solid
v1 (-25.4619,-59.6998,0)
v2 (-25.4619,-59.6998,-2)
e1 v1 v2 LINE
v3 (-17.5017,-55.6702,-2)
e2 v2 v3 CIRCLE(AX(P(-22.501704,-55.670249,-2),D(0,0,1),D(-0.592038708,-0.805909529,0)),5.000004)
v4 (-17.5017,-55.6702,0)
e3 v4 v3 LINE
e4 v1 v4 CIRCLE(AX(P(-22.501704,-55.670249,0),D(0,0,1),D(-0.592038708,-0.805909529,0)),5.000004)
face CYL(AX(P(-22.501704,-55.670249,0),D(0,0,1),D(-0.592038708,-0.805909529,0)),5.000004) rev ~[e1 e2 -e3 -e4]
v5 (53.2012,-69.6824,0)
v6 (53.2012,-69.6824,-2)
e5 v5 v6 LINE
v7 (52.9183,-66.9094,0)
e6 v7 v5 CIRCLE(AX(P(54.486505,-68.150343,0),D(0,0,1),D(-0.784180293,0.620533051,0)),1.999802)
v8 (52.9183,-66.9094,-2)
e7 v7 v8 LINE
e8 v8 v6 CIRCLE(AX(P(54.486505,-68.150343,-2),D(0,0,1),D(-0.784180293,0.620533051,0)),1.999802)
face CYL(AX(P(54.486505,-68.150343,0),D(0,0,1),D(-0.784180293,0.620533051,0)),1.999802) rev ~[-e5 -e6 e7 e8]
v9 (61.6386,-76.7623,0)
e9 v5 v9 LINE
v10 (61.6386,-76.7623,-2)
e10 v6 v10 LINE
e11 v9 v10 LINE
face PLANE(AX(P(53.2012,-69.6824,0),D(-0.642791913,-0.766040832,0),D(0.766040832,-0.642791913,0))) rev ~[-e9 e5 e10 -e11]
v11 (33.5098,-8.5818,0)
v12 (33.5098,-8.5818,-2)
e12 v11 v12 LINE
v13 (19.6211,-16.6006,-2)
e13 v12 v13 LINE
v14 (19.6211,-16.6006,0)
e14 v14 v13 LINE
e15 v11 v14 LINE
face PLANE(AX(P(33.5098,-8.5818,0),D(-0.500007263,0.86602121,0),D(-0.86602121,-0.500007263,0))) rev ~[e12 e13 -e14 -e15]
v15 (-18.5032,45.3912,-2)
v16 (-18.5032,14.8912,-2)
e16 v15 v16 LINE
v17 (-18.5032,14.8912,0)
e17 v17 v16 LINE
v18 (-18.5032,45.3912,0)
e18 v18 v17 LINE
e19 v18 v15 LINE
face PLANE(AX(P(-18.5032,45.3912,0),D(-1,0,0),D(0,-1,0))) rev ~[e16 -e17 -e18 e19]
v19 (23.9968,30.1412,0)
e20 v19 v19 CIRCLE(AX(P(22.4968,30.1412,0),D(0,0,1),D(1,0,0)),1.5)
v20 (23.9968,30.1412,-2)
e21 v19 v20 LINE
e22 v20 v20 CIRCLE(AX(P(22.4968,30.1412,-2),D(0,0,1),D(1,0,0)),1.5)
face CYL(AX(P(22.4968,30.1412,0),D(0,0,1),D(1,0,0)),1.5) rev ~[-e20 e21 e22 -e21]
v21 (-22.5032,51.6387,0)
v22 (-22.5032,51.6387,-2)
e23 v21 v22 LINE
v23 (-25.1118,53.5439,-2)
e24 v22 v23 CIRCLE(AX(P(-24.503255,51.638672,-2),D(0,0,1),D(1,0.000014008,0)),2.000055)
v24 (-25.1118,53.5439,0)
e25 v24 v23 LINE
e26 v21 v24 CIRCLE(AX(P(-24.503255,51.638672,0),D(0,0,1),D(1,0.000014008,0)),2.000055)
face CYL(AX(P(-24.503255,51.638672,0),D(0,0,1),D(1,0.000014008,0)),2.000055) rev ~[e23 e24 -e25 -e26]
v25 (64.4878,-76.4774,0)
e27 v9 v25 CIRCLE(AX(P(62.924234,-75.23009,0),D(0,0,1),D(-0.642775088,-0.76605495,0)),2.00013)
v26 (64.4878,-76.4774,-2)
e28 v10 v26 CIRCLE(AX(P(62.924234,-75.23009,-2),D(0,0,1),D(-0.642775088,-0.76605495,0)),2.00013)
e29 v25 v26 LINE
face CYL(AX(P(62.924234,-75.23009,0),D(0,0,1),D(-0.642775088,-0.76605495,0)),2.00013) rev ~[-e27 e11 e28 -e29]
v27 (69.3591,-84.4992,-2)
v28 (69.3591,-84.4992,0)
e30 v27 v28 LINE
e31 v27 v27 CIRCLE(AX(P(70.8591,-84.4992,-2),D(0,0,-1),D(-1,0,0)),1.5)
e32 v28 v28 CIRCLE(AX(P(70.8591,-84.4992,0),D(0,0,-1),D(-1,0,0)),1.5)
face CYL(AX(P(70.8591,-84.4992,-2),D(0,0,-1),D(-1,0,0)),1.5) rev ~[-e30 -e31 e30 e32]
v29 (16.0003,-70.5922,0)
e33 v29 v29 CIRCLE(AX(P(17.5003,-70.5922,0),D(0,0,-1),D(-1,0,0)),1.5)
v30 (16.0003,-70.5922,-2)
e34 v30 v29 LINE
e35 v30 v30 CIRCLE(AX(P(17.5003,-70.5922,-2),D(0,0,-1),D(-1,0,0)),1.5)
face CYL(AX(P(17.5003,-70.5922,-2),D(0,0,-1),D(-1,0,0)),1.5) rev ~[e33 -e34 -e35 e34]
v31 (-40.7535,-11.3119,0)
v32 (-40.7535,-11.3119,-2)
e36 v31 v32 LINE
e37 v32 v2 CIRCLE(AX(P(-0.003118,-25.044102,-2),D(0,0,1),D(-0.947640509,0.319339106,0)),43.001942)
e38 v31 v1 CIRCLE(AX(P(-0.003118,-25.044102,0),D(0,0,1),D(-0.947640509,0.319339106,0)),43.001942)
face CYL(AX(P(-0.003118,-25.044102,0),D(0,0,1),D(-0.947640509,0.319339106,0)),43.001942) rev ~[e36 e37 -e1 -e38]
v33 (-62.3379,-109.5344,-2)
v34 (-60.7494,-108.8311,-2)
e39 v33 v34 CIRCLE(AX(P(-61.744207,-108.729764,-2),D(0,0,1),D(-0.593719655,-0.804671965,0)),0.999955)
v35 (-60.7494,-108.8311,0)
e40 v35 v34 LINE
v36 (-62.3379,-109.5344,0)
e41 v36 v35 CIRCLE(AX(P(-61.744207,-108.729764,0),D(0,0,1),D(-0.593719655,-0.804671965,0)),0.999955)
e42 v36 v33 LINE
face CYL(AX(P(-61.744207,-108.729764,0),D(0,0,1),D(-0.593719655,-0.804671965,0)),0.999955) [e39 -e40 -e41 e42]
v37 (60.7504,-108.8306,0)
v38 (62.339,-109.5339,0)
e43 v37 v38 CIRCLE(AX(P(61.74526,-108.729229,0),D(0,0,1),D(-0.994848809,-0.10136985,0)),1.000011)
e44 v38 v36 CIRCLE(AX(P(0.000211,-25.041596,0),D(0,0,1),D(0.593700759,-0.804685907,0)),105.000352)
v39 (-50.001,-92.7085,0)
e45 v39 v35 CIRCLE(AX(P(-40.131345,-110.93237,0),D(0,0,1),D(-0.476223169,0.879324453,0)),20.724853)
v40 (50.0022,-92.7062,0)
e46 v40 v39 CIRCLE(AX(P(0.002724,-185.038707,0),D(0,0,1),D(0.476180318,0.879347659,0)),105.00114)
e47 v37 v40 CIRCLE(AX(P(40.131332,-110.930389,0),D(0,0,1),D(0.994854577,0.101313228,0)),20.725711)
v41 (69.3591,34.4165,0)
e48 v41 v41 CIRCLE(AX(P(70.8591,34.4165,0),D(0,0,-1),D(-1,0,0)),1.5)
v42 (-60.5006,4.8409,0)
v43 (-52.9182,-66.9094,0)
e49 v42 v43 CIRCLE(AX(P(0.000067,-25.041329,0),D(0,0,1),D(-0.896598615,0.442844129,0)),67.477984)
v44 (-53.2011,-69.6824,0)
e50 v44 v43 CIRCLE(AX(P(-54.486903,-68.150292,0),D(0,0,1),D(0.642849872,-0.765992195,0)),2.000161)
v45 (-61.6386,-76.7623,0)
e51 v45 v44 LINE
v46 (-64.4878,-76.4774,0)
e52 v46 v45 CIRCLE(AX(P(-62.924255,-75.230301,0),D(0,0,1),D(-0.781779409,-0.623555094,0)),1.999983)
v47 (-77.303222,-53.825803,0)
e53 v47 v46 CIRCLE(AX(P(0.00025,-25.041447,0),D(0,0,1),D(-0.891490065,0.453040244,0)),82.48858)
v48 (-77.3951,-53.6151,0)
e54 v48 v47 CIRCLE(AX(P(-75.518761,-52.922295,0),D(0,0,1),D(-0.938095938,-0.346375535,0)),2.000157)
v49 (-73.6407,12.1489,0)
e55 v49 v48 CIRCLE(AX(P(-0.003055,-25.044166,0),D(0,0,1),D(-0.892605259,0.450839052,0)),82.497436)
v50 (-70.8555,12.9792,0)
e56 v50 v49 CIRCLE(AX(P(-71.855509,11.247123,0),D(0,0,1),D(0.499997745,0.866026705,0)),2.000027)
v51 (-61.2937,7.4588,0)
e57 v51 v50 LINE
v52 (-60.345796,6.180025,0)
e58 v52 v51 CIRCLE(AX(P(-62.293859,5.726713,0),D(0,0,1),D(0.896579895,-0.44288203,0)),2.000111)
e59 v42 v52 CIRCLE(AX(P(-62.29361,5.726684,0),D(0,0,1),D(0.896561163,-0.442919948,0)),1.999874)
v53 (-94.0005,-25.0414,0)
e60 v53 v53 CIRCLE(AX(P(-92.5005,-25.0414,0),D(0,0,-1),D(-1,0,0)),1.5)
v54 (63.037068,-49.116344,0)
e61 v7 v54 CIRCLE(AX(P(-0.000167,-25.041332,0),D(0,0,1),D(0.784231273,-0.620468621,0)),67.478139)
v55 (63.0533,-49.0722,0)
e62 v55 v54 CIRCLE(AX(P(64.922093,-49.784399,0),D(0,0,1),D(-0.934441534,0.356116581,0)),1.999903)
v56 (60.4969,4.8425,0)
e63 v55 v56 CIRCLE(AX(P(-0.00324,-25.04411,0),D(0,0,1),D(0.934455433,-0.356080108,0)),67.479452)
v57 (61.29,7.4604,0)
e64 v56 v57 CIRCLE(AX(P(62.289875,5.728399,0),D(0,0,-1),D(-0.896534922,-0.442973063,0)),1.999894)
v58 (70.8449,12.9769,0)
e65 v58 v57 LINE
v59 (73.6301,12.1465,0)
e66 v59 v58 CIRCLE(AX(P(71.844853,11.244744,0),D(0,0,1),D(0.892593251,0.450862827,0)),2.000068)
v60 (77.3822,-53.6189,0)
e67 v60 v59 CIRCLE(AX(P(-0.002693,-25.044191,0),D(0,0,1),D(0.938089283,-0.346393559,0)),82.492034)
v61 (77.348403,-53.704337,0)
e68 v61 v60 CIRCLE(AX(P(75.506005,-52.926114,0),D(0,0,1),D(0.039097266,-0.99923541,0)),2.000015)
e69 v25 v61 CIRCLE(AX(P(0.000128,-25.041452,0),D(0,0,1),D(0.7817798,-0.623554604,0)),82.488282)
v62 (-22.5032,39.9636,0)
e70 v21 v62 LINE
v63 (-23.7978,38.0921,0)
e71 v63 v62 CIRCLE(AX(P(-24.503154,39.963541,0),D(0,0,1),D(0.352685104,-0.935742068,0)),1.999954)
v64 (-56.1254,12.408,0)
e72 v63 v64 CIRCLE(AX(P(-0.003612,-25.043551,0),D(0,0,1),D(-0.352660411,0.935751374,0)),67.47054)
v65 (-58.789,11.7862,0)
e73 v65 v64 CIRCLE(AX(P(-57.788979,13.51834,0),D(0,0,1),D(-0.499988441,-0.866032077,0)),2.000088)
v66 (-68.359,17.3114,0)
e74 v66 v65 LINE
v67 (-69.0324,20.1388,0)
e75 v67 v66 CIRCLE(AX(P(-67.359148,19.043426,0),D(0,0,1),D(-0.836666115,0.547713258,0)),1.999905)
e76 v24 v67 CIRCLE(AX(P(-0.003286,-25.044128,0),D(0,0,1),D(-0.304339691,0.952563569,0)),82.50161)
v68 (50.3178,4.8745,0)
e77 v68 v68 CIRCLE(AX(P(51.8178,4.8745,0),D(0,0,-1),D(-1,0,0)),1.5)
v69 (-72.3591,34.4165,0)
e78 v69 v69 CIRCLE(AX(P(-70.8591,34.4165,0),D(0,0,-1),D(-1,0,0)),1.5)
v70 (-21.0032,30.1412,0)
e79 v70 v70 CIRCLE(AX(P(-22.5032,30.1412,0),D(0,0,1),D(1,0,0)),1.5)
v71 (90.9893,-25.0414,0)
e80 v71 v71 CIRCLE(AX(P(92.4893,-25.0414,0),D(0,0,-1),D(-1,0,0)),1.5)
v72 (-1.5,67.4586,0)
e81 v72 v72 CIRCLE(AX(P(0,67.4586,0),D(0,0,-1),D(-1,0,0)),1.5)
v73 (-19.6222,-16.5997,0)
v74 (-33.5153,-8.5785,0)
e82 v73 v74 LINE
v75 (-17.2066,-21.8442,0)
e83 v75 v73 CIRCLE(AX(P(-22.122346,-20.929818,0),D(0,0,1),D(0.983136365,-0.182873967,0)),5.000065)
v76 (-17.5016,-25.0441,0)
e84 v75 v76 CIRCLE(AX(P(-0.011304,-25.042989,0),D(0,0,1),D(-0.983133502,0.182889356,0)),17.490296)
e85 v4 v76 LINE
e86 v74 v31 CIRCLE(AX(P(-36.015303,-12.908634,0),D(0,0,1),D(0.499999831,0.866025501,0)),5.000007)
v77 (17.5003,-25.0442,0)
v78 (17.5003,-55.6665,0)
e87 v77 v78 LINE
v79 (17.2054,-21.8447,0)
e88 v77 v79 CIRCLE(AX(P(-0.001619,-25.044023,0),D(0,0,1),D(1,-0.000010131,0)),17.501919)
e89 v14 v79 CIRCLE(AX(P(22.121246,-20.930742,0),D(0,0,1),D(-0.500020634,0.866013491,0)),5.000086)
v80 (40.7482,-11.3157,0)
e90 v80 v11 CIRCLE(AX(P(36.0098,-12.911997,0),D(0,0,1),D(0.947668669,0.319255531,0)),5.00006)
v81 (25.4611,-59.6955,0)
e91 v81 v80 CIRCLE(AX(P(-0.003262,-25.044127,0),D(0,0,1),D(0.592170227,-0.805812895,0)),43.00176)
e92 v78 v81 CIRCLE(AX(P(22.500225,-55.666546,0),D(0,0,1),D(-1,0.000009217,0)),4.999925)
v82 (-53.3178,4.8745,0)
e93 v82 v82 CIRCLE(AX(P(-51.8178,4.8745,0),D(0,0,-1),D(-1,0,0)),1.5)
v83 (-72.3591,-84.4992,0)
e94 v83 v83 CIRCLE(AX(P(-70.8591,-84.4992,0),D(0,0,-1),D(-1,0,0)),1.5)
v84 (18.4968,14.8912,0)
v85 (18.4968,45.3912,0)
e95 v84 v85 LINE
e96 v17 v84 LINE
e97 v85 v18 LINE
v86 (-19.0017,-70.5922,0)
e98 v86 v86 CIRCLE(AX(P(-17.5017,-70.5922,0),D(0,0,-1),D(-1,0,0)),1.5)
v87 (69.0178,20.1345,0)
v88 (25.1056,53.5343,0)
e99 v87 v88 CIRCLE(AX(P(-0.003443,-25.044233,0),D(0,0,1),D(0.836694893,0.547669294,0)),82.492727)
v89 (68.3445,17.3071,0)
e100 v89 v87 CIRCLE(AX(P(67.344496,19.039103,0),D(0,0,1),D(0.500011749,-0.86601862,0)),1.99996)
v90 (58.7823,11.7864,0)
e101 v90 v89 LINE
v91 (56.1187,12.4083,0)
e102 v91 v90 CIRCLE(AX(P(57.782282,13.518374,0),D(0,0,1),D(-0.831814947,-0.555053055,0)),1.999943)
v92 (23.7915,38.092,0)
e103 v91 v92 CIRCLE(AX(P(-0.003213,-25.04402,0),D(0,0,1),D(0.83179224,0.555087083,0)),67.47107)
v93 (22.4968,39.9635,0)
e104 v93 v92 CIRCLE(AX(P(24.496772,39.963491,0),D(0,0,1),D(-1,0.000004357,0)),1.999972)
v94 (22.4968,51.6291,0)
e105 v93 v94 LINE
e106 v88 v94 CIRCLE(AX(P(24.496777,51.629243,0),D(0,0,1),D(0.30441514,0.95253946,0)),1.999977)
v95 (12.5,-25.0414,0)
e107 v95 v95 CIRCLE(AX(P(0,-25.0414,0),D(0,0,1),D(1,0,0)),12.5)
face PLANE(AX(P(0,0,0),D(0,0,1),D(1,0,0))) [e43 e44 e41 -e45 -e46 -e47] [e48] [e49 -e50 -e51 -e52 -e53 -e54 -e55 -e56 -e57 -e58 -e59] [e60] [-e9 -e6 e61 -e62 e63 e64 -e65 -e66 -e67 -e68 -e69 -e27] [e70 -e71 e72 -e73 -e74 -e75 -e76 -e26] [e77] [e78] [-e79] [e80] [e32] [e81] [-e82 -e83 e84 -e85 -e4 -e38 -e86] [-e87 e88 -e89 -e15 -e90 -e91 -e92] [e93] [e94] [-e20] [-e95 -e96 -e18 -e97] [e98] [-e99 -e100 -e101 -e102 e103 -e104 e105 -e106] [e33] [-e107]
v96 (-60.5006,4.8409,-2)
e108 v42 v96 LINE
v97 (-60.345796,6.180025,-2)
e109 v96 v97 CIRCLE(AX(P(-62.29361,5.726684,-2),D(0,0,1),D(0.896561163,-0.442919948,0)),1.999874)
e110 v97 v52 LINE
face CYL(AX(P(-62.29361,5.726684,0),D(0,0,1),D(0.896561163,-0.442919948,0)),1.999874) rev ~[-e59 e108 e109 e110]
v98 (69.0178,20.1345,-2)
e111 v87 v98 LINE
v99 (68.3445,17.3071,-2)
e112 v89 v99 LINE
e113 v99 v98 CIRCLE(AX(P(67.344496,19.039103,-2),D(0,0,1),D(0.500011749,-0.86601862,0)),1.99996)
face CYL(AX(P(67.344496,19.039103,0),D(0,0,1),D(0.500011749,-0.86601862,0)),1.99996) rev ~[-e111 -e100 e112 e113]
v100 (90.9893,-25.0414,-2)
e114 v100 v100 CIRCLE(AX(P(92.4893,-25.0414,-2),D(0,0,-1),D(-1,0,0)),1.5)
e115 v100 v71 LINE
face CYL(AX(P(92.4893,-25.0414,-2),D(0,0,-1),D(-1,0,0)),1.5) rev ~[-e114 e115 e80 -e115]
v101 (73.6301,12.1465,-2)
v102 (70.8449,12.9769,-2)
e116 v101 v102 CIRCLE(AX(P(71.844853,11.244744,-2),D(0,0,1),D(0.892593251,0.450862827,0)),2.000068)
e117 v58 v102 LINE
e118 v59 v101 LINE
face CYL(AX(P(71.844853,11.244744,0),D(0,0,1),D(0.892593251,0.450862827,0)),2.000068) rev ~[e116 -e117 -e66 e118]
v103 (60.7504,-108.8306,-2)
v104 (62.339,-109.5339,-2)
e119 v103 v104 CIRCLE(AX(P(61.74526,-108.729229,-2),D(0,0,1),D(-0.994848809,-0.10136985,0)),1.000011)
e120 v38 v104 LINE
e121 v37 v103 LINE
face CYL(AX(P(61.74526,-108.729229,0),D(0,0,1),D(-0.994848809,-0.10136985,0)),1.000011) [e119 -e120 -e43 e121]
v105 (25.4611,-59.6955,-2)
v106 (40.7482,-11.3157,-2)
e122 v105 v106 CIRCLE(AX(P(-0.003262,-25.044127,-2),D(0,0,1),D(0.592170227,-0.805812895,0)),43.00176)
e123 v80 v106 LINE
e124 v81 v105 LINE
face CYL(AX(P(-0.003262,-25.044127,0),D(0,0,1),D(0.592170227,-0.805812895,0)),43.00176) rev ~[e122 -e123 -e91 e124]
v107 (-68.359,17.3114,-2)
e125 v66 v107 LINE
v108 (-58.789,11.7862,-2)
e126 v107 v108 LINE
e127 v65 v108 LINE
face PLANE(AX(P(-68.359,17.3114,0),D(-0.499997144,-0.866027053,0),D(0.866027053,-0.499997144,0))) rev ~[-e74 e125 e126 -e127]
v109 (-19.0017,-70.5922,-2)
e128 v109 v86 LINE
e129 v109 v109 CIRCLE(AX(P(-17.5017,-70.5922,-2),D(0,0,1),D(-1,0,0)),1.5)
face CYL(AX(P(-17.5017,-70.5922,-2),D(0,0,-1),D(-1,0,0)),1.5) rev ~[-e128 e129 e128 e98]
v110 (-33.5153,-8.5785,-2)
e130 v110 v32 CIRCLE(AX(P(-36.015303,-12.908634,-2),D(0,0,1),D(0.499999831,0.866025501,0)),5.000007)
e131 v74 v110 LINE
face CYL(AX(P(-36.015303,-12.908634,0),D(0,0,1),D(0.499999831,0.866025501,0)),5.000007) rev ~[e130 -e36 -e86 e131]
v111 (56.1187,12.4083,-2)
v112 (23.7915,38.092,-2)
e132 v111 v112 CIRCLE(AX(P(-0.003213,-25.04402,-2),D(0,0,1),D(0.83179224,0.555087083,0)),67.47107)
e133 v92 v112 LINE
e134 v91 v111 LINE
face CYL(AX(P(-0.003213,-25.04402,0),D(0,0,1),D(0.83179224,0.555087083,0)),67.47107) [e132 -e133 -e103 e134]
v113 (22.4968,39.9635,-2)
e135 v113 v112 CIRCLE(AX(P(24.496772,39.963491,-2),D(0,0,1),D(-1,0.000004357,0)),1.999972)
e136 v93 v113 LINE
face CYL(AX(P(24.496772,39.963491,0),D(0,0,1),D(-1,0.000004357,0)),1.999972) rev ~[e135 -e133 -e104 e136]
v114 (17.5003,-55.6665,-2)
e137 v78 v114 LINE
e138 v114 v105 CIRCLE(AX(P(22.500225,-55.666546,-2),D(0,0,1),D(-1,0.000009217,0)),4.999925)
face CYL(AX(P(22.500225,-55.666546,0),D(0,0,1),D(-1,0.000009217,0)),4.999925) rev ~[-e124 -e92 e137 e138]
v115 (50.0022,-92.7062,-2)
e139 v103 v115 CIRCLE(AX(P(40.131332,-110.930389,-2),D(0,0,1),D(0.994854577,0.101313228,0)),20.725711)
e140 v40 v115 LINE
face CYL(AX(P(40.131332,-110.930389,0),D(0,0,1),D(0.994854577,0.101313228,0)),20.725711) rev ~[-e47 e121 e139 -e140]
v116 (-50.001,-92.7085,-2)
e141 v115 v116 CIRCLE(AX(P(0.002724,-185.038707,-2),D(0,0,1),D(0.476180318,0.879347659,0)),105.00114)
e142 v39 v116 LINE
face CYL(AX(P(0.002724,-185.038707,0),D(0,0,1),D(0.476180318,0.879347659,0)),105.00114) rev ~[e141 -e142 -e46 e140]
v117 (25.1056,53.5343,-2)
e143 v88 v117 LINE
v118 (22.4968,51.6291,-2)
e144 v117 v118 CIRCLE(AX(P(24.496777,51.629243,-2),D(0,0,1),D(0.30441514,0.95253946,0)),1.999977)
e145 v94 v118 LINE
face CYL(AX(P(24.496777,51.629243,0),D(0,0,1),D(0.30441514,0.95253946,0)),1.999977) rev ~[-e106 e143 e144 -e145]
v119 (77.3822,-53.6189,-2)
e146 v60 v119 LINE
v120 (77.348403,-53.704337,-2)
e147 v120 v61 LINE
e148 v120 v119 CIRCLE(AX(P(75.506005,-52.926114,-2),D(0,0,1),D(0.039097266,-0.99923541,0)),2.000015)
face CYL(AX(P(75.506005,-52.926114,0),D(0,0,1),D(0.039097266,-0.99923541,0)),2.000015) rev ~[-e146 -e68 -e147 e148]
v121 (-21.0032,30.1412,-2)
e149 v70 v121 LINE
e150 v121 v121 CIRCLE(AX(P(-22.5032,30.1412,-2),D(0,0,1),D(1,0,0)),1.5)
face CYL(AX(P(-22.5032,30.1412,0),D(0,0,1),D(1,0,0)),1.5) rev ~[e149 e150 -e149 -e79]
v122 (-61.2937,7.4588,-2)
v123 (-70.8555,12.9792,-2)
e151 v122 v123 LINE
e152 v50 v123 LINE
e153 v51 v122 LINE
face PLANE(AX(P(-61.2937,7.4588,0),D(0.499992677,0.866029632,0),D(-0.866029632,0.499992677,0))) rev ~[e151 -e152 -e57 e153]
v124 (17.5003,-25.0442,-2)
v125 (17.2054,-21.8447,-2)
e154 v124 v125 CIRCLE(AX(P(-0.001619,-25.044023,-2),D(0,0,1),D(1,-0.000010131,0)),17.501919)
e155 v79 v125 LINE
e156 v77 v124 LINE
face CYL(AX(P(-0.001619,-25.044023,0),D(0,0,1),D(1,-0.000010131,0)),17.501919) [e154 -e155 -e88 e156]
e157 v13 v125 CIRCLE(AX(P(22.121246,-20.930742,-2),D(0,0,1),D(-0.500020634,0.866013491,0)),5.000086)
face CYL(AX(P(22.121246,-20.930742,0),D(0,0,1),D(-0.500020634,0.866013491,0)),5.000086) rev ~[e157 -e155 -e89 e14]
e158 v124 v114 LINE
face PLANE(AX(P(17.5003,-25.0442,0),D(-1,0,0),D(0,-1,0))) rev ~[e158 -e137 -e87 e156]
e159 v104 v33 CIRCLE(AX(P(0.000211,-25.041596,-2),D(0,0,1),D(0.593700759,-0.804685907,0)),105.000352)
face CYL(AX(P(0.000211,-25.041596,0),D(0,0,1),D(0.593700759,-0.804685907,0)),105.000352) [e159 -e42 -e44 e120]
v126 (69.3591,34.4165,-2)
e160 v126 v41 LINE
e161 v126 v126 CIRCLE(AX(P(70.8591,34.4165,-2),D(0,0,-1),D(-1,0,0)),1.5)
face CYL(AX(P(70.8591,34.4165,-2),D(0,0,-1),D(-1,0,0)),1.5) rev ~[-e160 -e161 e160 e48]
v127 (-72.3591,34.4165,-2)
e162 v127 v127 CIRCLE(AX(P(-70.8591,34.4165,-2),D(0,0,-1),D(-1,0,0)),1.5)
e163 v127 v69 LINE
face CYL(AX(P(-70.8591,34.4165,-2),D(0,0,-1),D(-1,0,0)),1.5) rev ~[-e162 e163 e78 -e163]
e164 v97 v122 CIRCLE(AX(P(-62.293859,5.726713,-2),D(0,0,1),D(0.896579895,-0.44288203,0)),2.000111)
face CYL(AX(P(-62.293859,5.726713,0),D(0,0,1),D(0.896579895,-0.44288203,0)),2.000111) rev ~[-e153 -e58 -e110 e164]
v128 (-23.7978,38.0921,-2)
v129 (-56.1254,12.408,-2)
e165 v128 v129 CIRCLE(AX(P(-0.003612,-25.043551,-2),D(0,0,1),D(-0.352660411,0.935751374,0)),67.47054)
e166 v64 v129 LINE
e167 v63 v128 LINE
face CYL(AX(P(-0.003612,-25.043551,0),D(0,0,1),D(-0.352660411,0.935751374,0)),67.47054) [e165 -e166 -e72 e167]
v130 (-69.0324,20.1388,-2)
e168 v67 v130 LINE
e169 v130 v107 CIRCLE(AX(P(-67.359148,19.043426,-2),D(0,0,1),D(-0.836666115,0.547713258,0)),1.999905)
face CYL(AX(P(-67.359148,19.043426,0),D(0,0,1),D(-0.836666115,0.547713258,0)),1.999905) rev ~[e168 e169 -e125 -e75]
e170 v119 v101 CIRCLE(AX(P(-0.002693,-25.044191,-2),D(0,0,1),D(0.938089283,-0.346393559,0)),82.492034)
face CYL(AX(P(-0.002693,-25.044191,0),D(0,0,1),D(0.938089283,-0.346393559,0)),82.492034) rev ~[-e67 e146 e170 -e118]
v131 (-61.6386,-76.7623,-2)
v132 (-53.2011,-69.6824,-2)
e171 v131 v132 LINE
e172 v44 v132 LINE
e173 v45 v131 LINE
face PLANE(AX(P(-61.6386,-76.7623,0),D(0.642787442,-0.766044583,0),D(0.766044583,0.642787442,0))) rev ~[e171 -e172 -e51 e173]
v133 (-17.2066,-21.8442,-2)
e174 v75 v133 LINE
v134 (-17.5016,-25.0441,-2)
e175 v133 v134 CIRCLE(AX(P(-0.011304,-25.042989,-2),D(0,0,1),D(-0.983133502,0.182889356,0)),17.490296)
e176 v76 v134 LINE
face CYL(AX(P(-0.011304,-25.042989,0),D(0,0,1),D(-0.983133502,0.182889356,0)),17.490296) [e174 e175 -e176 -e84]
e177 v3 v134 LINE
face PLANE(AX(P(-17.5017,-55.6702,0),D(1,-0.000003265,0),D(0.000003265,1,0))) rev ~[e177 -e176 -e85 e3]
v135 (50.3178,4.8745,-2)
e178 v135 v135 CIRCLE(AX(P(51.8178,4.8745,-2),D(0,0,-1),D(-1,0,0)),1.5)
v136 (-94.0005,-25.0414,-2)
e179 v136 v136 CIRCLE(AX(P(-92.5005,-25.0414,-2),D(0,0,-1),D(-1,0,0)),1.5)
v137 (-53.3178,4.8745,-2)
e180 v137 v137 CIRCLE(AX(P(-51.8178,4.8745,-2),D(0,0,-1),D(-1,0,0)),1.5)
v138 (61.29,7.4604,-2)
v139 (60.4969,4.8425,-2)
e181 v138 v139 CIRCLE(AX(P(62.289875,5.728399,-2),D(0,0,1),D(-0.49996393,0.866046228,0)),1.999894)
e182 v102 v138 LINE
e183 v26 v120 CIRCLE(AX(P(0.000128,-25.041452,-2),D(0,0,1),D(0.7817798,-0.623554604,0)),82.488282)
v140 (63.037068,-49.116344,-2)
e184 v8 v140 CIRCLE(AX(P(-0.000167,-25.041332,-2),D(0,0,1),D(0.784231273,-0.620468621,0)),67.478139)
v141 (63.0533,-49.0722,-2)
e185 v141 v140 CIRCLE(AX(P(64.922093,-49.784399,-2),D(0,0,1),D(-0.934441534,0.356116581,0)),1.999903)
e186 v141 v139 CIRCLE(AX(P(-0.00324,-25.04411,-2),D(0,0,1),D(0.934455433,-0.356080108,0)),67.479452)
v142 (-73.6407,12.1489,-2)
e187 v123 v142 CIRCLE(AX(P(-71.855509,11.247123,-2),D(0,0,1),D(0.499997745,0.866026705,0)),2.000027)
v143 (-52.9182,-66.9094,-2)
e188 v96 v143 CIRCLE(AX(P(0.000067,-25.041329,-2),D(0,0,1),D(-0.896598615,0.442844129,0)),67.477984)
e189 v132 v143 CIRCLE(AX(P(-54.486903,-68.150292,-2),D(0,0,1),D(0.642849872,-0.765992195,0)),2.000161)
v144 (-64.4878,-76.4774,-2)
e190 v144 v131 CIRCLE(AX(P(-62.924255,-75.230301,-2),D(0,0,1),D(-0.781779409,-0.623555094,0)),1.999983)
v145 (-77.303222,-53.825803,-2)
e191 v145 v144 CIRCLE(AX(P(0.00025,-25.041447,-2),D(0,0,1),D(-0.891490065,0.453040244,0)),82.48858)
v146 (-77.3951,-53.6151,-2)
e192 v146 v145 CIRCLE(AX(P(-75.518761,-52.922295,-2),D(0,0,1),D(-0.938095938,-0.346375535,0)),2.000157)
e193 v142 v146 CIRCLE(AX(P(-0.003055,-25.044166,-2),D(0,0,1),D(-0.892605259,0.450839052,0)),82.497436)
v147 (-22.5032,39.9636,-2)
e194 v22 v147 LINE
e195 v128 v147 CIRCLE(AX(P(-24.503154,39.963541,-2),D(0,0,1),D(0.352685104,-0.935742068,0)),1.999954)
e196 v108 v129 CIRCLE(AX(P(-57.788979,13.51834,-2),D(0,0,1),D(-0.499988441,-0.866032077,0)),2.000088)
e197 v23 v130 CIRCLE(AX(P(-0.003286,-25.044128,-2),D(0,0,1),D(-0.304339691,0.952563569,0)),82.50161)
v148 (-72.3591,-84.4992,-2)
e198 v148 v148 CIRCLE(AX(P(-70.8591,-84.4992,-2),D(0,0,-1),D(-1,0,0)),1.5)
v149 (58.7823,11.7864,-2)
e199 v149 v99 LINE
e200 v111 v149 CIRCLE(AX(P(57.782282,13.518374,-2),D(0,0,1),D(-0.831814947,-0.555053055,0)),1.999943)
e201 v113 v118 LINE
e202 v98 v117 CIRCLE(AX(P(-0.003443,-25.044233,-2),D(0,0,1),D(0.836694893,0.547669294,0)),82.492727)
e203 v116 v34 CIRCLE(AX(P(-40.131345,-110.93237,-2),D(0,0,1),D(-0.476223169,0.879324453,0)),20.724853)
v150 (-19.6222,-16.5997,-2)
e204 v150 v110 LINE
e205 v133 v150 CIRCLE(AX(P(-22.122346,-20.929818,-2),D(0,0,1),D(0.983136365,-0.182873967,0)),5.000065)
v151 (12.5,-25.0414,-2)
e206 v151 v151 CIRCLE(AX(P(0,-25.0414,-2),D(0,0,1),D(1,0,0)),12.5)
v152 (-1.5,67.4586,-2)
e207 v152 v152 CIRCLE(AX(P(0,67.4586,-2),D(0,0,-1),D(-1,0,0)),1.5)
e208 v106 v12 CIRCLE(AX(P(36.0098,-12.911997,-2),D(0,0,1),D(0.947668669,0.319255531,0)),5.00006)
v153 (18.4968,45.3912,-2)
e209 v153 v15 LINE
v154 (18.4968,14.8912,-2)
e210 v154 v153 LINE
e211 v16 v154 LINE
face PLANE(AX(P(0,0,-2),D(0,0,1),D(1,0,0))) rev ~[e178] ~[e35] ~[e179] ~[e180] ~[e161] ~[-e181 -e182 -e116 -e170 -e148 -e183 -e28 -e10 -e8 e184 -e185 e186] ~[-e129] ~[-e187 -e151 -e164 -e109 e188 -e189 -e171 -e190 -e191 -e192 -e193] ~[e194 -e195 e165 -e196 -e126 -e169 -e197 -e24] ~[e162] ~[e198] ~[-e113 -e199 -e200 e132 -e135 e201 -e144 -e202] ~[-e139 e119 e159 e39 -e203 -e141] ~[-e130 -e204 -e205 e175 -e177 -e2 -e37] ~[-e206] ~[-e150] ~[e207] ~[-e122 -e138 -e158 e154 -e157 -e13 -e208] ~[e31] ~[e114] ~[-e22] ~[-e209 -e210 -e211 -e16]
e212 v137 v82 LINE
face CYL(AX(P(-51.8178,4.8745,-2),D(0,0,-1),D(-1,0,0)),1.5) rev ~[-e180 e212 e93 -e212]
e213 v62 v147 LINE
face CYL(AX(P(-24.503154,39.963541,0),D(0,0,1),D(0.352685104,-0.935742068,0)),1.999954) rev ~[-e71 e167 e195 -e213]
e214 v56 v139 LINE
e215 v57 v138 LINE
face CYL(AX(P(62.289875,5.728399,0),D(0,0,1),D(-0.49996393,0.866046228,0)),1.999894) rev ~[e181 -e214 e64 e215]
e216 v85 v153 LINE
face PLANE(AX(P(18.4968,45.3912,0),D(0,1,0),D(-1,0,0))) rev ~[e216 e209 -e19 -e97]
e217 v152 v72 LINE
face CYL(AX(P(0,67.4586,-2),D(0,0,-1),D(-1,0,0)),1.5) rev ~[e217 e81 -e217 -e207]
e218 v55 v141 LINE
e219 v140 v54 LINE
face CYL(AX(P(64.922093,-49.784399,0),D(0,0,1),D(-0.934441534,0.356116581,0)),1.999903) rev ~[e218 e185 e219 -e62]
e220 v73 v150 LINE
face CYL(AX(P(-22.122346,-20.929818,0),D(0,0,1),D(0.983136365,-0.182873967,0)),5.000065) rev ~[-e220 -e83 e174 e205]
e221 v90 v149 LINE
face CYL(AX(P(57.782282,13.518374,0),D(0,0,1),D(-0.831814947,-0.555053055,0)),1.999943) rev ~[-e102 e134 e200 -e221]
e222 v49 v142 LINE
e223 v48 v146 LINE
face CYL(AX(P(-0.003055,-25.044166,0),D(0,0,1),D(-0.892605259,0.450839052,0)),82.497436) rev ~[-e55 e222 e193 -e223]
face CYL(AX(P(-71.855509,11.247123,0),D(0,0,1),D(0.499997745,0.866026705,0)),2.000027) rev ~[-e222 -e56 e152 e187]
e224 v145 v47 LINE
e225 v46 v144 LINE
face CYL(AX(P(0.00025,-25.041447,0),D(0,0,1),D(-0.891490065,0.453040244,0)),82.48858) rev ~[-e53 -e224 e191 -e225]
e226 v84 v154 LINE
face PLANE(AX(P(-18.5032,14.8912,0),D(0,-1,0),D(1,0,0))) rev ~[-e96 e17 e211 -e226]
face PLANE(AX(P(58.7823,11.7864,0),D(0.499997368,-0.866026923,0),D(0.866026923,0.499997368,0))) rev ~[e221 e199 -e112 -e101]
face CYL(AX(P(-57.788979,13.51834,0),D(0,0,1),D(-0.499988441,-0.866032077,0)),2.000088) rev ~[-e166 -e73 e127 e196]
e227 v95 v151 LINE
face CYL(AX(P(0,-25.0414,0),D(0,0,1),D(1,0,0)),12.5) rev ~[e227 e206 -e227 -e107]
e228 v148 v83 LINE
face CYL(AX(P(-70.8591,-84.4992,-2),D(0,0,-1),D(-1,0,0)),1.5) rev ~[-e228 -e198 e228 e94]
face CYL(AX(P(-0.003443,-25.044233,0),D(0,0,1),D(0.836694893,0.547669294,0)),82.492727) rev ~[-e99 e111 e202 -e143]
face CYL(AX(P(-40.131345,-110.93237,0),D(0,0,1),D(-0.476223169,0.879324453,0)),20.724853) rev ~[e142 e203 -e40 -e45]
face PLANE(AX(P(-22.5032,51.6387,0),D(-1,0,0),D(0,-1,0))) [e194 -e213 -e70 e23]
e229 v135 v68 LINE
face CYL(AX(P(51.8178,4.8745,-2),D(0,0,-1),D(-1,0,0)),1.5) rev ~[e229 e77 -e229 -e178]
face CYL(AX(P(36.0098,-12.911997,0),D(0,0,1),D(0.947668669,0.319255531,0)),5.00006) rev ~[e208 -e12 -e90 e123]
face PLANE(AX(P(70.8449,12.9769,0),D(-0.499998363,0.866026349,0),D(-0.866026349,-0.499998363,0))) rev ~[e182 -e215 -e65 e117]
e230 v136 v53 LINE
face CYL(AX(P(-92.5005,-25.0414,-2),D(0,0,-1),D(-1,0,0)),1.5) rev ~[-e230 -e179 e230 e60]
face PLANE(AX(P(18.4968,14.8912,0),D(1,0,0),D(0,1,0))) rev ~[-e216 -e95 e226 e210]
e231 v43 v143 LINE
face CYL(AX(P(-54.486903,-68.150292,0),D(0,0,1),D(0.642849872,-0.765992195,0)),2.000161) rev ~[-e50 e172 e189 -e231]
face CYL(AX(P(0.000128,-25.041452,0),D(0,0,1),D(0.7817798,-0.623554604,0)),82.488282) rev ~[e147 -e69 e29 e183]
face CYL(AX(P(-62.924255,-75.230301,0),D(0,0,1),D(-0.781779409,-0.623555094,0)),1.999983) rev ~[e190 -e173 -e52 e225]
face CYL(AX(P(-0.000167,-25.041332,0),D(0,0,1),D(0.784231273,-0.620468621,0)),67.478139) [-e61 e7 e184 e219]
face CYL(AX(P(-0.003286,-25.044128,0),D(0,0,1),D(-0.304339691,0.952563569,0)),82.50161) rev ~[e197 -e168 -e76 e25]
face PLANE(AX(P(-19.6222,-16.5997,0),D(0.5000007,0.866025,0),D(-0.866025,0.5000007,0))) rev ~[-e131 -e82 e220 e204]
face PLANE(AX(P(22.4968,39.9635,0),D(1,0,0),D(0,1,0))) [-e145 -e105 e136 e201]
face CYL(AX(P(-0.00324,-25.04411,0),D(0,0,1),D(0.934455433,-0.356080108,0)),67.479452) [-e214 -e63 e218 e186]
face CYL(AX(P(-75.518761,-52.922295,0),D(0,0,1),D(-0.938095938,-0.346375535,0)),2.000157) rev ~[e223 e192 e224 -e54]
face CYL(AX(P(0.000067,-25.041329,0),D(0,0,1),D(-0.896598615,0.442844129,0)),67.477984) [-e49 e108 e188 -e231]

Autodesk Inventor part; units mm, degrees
ref_plane "YZ Plane" through (0, 0, 0) normal (1, 0, 0) x (0, 1, 0)
ref_plane "XZ Plane" through (0, 0, 0) normal (0, 1, 0) x (-1, 0, 0)
ref_plane "XY Plane" through (0, 0, 0) normal (0, 0, 1) x (1, 0, 0)
sketch "Sketch1" plane through (0, 0, 0) normal (0, 0, 1) x (1, 0, 0)
  circle A0 centre (22.4968, 30.1412) radius 1.5 projected
  circle A1 centre (-22.5032, 30.1412) radius 1.5 projected
  arc A2 (60.7504, -108.8306) -> (62.339, -109.5339) centre (61.7453, -108.7292) ccw projected
  arc A3 (60.7504, -108.8306) -> (50.0022, -92.7062) centre (40.1313, -110.9304) ccw projected
  arc A4 (50.0022, -92.7062) -> (-50.001, -92.7085) centre (0.0027, -185.0388) ccw projected
  arc A5 (-50.001, -92.7085) -> (-60.7494, -108.8311) centre (-40.1315, -110.9322) ccw projected
  arc A6 (-62.3379, -109.5344) -> (-60.7494, -108.8311) centre (-61.7442, -108.7297) ccw projected
  arc A7 (62.339, -109.5339) -> (-62.3379, -109.5344) centre (0.0002, -25.0416) ccw projected
  arc A8 (-40.7535, -11.3119) -> (-25.4619, -59.6998) centre (-0.0033, -25.0441) ccw projected
  arc A9 (-25.4619, -59.6998) -> (-17.5017, -55.6702) centre (-22.5017, -55.6702) ccw projected
  line L0 (-17.5017, -55.6702) -> (-17.5016, -25.0441) projected
  arc A10 (-17.2066, -21.8442) -> (-17.5016, -25.0441) centre (-0.0033, -25.0441) ccw projected
  arc A11 (-17.2066, -21.8442) -> (-19.6222, -16.5997) centre (-22.1222, -20.9298) ccw projected
  line L1 (-19.6222, -16.5997) -> (-33.5153, -8.5785) projected
  arc A12 (-33.5153, -8.5785) -> (-40.7535, -11.3119) centre (-36.0153, -12.9086) ccw projected
  line L2 (33.5098, -8.5818) -> (19.6211, -16.6006) projected
  arc A13 (19.6211, -16.6006) -> (17.2054, -21.8447) centre (22.1212, -20.9307) ccw projected
  arc A14 (17.5003, -25.0442) -> (17.2054, -21.8447) centre (-0.0033, -25.0441) ccw projected
  line L3 (17.5003, -25.0442) -> (17.5003, -55.6665) projected
  arc A15 (17.5003, -55.6665) -> (25.4611, -59.6955) centre (22.5003, -55.6665) ccw projected
  arc A16 (25.4611, -59.6955) -> (40.7482, -11.3157) centre (-0.0033, -25.0441) ccw projected
  arc A17 (40.7482, -11.3157) -> (33.5098, -8.5818) centre (36.0099, -12.9119) ccw projected
  arc A18 (-25.1118, 53.5439) -> (-69.0324, 20.1388) centre (-0.0033, -25.0441) ccw
  arc A19 (-69.0324, 20.1388) -> (-68.359, 17.3114) centre (-67.359, 19.0434) ccw projected
  line L4 (-68.359, 17.3114) -> (-58.789, 11.7862) projected
  arc A20 (-58.789, 11.7862) -> (-56.1254, 12.408) centre (-57.789, 13.5182) ccw projected
  arc A21 (-23.7978, 38.0921) -> (-56.1254, 12.408) centre (-0.0033, -25.0441) ccw
  arc A22 (-73.7424, -55.6421) -> (-75.5895, -54.9212) centre (-75.6955, -57.9193) ccw projected
  arc A23 (-73.7424, -55.6421) -> (-71.4404, -55.8561) centre (-72.4403, -54.124) ccw projected
  line L5 (-71.4404, -55.8561) -> (-63.925, -51.5171) projected
  arc A24 (-63.925, -51.5171) -> (-63.0561, -49.0729) centre (-64.925, -49.7851) ccw projected
  arc A25 (-60.5006, 4.8409) -> (-63.0561, -49.0729) centre (-0.0033, -25.0441) ccw projected
  arc A26 (-60.5006, 4.8409) -> (-61.2937, 7.4588) centre (-62.2937, 5.7267) ccw projected
  line L6 (-61.2937, 7.4588) -> (-70.8555, 12.9792) projected
  arc A27 (-70.8555, 12.9792) -> (-73.6407, 12.1489) centre (-71.8555, 11.2472) ccw projected
  arc A28 (-73.6407, 12.1489) -> (-77.3951, -53.6151) centre (-0.0033, -25.0441) ccw projected
  arc A29 (-77.3951, -53.6151) -> (-75.5895, -54.9212) centre (-75.5189, -52.9224) ccw projected
  arc A30 (56.1187, 12.4083) -> (58.7823, 11.7864) centre (57.7823, 13.5184) ccw projected
  line L7 (58.7823, 11.7864) -> (68.3445, 17.3071) projected
  arc A31 (68.3445, 17.3071) -> (69.0178, 20.1345) centre (67.3445, 19.0391) ccw projected
  arc A32 (69.0178, 20.1345) -> (25.1056, 53.5343) centre (-0.0033, -25.0441) ccw
  arc A33 (77.3822, -53.6189) -> (73.6301, 12.1465) centre (-0.0033, -25.0441) ccw projected
  arc A34 (73.6301, 12.1465) -> (70.8449, 12.9769) centre (71.8449, 11.2448) ccw projected
  line L8 (70.8449, 12.9769) -> (61.29, 7.4604) projected
  arc A35 (61.29, 7.4604) -> (60.4969, 4.8425) centre (62.29, 5.7283) ccw projected
  arc A36 (63.0533, -49.0722) -> (60.4969, 4.8425) centre (-0.0033, -25.0441) ccw projected
  arc A37 (63.0533, -49.0722) -> (63.9222, -51.5164) centre (64.9222, -49.7844) ccw projected
  line L9 (63.9222, -51.5164) -> (71.4454, -55.86) projected
  arc A38 (71.4454, -55.86) -> (73.7479, -55.6457) centre (72.4454, -54.1279) ccw projected
  arc A39 (75.5842, -54.9246) -> (73.7479, -55.6457) centre (75.7016, -57.9223) ccw projected
  arc A40 (75.5842, -54.9246) -> (77.3822, -53.6189) centre (75.506, -52.9261) ccw projected
  circle A41 centre (0, -25.0414) radius 12.5 projected
  arc A42 (63.3702, -73.6036) -> (63.6677, -75.5605) centre (66.3188, -74.1564) ccw projected
  arc A43 (63.3702, -73.6036) -> (62.4045, -71.503) centre (61.4045, -73.235) ccw projected
  line L10 (62.4045, -71.503) -> (54.8893, -67.1641) projected
  arc A44 (54.8893, -67.1641) -> (52.3379, -67.6338) centre (53.8893, -68.8961) ccw projected
  arc A45 (42.3269, -77.5955) -> (52.3379, -67.6338) centre (-0.0033, -25.0441) ccw projected
  arc A46 (42.3269, -77.5955) -> (42.8203, -81.0025) centre (43.5815, -79.153) ccw projected
  arc A47 (53.5093, -86.0748) -> (42.8203, -81.0025) centre (0.0002, -185.037) ccw projected
  arc A48 (53.5093, -86.0748) -> (55.8138, -85.7882) centre (54.4606, -84.3155) ccw projected
  arc A49 (55.8138, -85.7882) -> (63.4384, -77.775) centre (-0.0033, -25.0441) ccw projected
  arc A50 (63.4384, -77.775) -> (63.6677, -75.5605) centre (61.9003, -76.4966) ccw projected
  arc A51 (-63.444, -77.7749) -> (-55.8167, -85.7905) centre (-0.0033, -25.0441) ccw projected
  arc A52 (-55.8167, -85.7905) -> (-53.5122, -86.077) centre (-54.4635, -84.3178) ccw projected
  arc A53 (-42.8207, -81.0032) -> (-53.5122, -86.077) centre (0.0002, -185.037) ccw projected
  arc A54 (-42.8207, -81.0032) -> (-42.3274, -77.5961) centre (-43.5819, -79.1538) ccw projected
  arc A55 (-52.3409, -67.6331) -> (-42.3274, -77.5961) centre (-0.0033, -25.0441) ccw projected
  arc A56 (-52.3409, -67.6331) -> (-54.8922, -67.1633) centre (-53.8922, -68.8954) ccw projected
  line L11 (-54.8922, -67.1633) -> (-62.4125, -71.5052) projected
  arc A57 (-62.4125, -71.5052) -> (-63.3781, -73.6065) centre (-61.4125, -73.2373) ccw projected
  arc A58 (-63.6742, -75.562) -> (-63.3781, -73.6065) centre (-66.3266, -74.1603) ccw projected
  arc A59 (-63.6742, -75.562) -> (-63.444, -77.7749) centre (-61.9059, -76.4965) ccw projected
  line L12 (-22.5032, 51.6387) -> (-22.5032, 39.9636)
  line L13 (22.4968, 39.9635) -> (22.4968, 51.6291)
  arc A60 (56.1187, 12.4083) -> (23.7915, 38.092) centre (-0.0033, -25.0441) ccw
  arc A61 (25.1056, 53.5343) -> (22.4968, 51.6291) centre (24.4968, 51.6291) ccw
  arc A62 (22.4968, 39.9635) -> (23.7915, 38.092) centre (24.4968, 39.9635) ccw
  arc A63 (-23.7978, 38.0921) -> (-22.5032, 39.9636) centre (-24.5032, 39.9636) ccw
  arc A64 (-22.5032, 51.6387) -> (-25.1118, 53.5439) centre (-24.5032, 51.6387) ccw
  line L14 (17.4968, 44.3912) -> (17.4968, 45.3912) construction
  line L15 (17.4968, 44.3912) -> (18.4968, 44.3912) construction
  line L16 (18.4968, 44.3912) -> (18.4968, 45.3912) construction
  line L17 (18.4968, 45.3912) -> (17.4968, 45.3912) construction
  line L18 (-17.5032, 15.8912) -> (-17.5032, 14.8912) construction
  line L19 (-17.5032, 14.8912) -> (-18.5032, 14.8912) construction
  line L20 (18.4968, 45.3912) -> (-18.5032, 45.3912)
  line L21 (-18.5032, 45.3912) -> (-18.5032, 14.8912)
  line L22 (-18.5032, 14.8912) -> (18.4968, 14.8912)
  line L23 (18.4968, 14.8912) -> (18.4968, 45.3912)
  point P0 (0, 0)
  point P1 (-22.5032, 54.3301)
  point P2 (-17.5032, 40.1181)
  point P3 (22.4968, 54.3206)
  point P4 (22.4968, 38.5649)
  point P5 (-22.5032, 38.565)
  dimension "d4" = 2
  dimension "d9" = 1
  dimension "d10" = 1
  dimension "d11" = 1
  dimension "d12" = 1
extrude "Extrusion5" add sketch "Sketch1" against normal blind 2
sketch "Sketch4" plane through (0, 0, -2) normal (0, 0, -1) x (-1, 0, 0)
  circle A0 centre (92.5005, -25.0414) radius 1.5 projected
  circle A1 centre (-92.4893, -25.0414) radius 1.5 projected
  point P0 (0, 0)
extrude "Extrusion6" cut sketch "Sketch4" against normal up to next
sketch "Sketch5" plane through (0, 0, -2) normal (0, 0, -1) x (-1, 0, 0)
  circle A0 centre (0, -25.0414) radius 12.5 projected
  line L0 (0, -25.0414) -> (70.8591, -84.4992) construction
  line L1 (0, -25.0414) -> (92.5, -25.0414) construction
  circle A1 centre (70.8591, -84.4992) radius 1.5
  line L2 (0, -25.0414) -> (-70.8591, -84.4992) construction
  line L3 (0, -25.0414) -> (92.5, -25.0414) construction
  circle A2 centre (-70.8591, -84.4992) radius 1.5
  line L4 (0, -25.0414) -> (-70.8591, 34.4165) construction
  line L5 (0, -25.0414) -> (92.5, -25.0414) construction
  line L6 (0, -25.0414) -> (70.8591, 34.4165) construction
  line L7 (0, -25.0414) -> (92.5, -25.0414) construction
  circle A3 centre (-70.8591, 34.4165) radius 1.5
  circle A4 centre (70.8591, 34.4165) radius 1.5
  circle A5 centre (0, 67.4586) radius 1.5
  line L8 (0, 67.4586) -> (0, -25.0414) construction
  line L9 (68.359, 17.3114) -> (58.789, 11.7862) construction
  line L10 (61.2937, 7.4588) -> (70.8555, 12.9792) construction
  arc A6 (56.1254, 12.408) -> (58.789, 11.7862) centre (57.789, 13.5182) ccw construction
  arc A7 (61.2937, 7.4588) -> (60.5006, 4.8409) centre (62.2937, 5.7267) ccw construction
  line L11 (56.1254, 12.408) -> (60.5006, 4.8409) construction
  line L12 (58.313, 8.6245) -> (51.8178, 4.8745) construction
  line L13 (58.313, 8.6245) -> (65.813, 8.6245) construction
  circle A8 centre (51.8178, 4.8745) radius 1.5
  line L14 (-56.1255, 12.408) -> (-60.5006, 4.8409) construction
  line L15 (-58.313, 8.6245) -> (-51.8178, 4.8745) construction
  circle A9 centre (-51.8178, 4.8745) radius 1.5
  point P0 (0, 0)
  dimension "d18" = 92.5
  dimension "d19" = 40
  dimension "d20" = 3
  dimension "d21" = 92.5
  dimension "d22" = 140
  dimension "d23" = 3
  dimension "d24" = 92.5
  dimension "d25" = 140
  dimension "d26" = 92.5
  dimension "d27" = 40
  dimension "d28" = 3
  dimension "d29" = 3
  dimension "d31" = 3
  dimension "d32" = 92.5
  dimension "d33" = 7.5
  dimension "d34" = 150
  dimension "d35" = 3
extrude "Extrusion7" cut sketch "Sketch5" against normal up to next contours A1 | A2 | A3 | A4 | A5 | A8 | A9
sketch "Sketch6" plane through (0, 0, -2) normal (0, 0, -1) x (-1, 0, 0)
  line L0 (-17.5003, -25.0442) -> (-17.5003, -55.6665) construction
  line L1 (-17.5003, -55.6665) -> (-17.5003, -94.1691) construction
  arc A0 (17.5017, -55.6702) -> (25.4619, -59.6998) centre (22.5017, -55.6702) ccw projected
  line L2 (17.5017, -55.6702) -> (17.5017, -94.1691) construction
  arc A1 (-42.8203, -81.0025) -> (-42.3269, -77.5955) centre (-43.5815, -79.153) ccw construction
  line L3 (-42.8203, -81.0025) -> (-17.5003, -70.5922) construction
  line L4 (-42.8203, -81.0025) -> (-15.4437, -81.0025) construction
  arc A2 (53.5122, -86.077) -> (42.8207, -81.0032) centre (-0.0002, -185.037) ccw construction
  arc A3 (42.3274, -77.5961) -> (42.8207, -81.0032) centre (43.5819, -79.1538) ccw construction
  circle A4 centre (-17.5003, -70.5922) radius 1.5
  line L5 (-17.5003, -70.5922) -> (17.5017, -70.5922)
  line L6 (17.5017, -70.5922) -> (42.8207, -81.0032) construction
  circle A5 centre (17.5017, -70.5922) radius 1.5
  point P0 (0, 0)
  dimension "d38" = 22.35
  dimension "d39" = 3
  dimension "d40" = 3
extrude "Extrusion8" cut sketch "Sketch6" against normal up to next
sketch "Sketch8" plane through (0, 0, 0) normal (0, 0, 1) x (1, 0, 0)
  line L0 (54.8893, -67.1641) -> (62.4045, -71.503) projected
  arc A0 (42.3269, -77.5955) -> (52.3379, -67.6338) centre (-0.0033, -25.0441) ccw projected
  arc A1 (54.8893, -67.1641) -> (52.3379, -67.6338) centre (53.8893, -68.8961) ccw projected
  arc A2 (63.3702, -73.6036) -> (62.4045, -71.503) centre (61.4045, -73.235) ccw projected
  arc A3 (63.3702, -73.6036) -> (63.6677, -75.5605) centre (66.3188, -74.1564) ccw projected
  arc A4 (63.4384, -77.775) -> (63.6677, -75.5605) centre (61.9003, -76.4966) ccw projected
  arc A5 (55.8138, -85.7882) -> (63.4384, -77.775) centre (-0.0033, -25.0441) ccw projected
  arc A6 (53.5093, -86.0748) -> (55.8138, -85.7882) centre (54.4606, -84.3155) ccw projected
  arc A7 (53.5093, -86.0748) -> (42.8203, -81.0025) centre (0.0002, -185.037) ccw projected
  arc A8 (42.3269, -77.5955) -> (42.8203, -81.0025) centre (43.5815, -79.153) ccw projected
  arc A9 (-63.6742, -75.562) -> (-63.3781, -73.6065) centre (-66.3266, -74.1603) ccw projected
  arc A10 (-62.4125, -71.5052) -> (-63.3781, -73.6065) centre (-61.4125, -73.2373) ccw projected
  line L1 (-62.4125, -71.5052) -> (-54.8922, -67.1633) projected
  arc A11 (-52.3409, -67.6331) -> (-54.8922, -67.1633) centre (-53.8922, -68.8954) ccw projected
  arc A12 (-52.3409, -67.6331) -> (-42.3274, -77.5961) centre (-0.0033, -25.0441) ccw projected
  arc A13 (-42.8207, -81.0032) -> (-42.3274, -77.5961) centre (-43.5819, -79.1538) ccw projected
  arc A14 (-42.8207, -81.0032) -> (-53.5122, -86.077) centre (0.0002, -185.037) ccw projected
  arc A15 (-55.8167, -85.7905) -> (-53.5122, -86.077) centre (-54.4635, -84.3178) ccw projected
  arc A16 (-63.444, -77.7749) -> (-55.8167, -85.7905) centre (-0.0033, -25.0441) ccw projected
  arc A17 (-63.6742, -75.562) -> (-63.444, -77.7749) centre (-61.9059, -76.4965) ccw projected
  point P0 (0, 0)
extrude "Extrusion9" add sketch "Sketch8" against normal blind 2
sketch "Sketch9" plane through (0, 0, 0) normal (0, 0, 1) x (1, 0, 0)
  circle A0 centre (0, -25.0414) radius 12.5 construction
  arc A1 (51.6905, -68.4148) -> (60.462, 4.9171) centre (0, -25.0414) ccw construction
  circle A2 centre (70.8591, -84.4992) radius 1.5 construction
  line L0 (0, -25.0414) -> (61.6386, -76.7623) construction
  circle A3 centre (-70.8591, -84.4992) radius 1.5 construction
  line L1 (-61.6386, -76.7623) -> (0, -25.0414) construction
  arc A4 (61.29, 7.4604) -> (60.4969, 4.8425) centre (62.29, 5.7283) ccw
  line L2 (61.29, 7.4604) -> (70.8449, 12.9769)
  arc A5 (73.6301, 12.1465) -> (70.8449, 12.9769) centre (71.8449, 11.2448) ccw
  line L3 (-70.8555, 12.9792) -> (-61.2938, 7.4587)
  arc A6 (-60.5006, 4.8409) -> (-61.2938, 7.4587) centre (-62.2938, 5.7267) ccw
  arc A7 (-70.8555, 12.9792) -> (-73.6407, 12.1488) centre (-71.8555, 11.2472) ccw
  arc A8 (-60.5005, 4.841) -> (-52.9182, -66.9094) centre (0, -25.0414) ccw
  arc A9 (52.9183, -66.9094) -> (60.4545, 4.9342) centre (0, -25.0414) ccw
  line L4 (-61.6386, -76.7623) -> (-53.2011, -69.6824)
  line L5 (53.2012, -69.6824) -> (61.6386, -76.7623)
  arc A10 (73.6301, 12.1465) -> (70.8449, 12.9769) centre (71.8449, 11.2448) ccw projected
  arc A11 (-73.5375, 12.3292) -> (-64.4878, -76.4774) centre (0, -25.0414) ccw
  arc A12 (77.3822, -53.6189) -> (73.6301, 12.1465) centre (-0.0033, -25.0441) ccw projected
  arc A13 (64.4878, -76.4774) -> (73.6301, 12.1465) centre (0, -25.0414) ccw
  arc A14 (-64.4878, -76.4774) -> (-61.6386, -76.7623) centre (-62.9242, -75.2302) ccw
  arc A15 (-53.2011, -69.6824) -> (-52.9182, -66.9094) centre (-54.4867, -68.1504) ccw
  arc A16 (61.6386, -76.7623) -> (64.4878, -76.4774) centre (62.9242, -75.2302) ccw
  arc A17 (52.9183, -66.9094) -> (53.2012, -69.6824) centre (54.4867, -68.1504) ccw
  point P0 (0, 0)
  point P1 (-51.6911, -68.4154)
  point P2 (51.6911, -68.4154)
  point P3 (63.1898, -78.0639)
  point P4 (-63.1897, -78.0639)
  dimension "d45" = 2
  dimension "d46" = 2
extrude "Extrusion10" cut sketch "Sketch9" against normal blind 2
properties part number "3rdPlate"
